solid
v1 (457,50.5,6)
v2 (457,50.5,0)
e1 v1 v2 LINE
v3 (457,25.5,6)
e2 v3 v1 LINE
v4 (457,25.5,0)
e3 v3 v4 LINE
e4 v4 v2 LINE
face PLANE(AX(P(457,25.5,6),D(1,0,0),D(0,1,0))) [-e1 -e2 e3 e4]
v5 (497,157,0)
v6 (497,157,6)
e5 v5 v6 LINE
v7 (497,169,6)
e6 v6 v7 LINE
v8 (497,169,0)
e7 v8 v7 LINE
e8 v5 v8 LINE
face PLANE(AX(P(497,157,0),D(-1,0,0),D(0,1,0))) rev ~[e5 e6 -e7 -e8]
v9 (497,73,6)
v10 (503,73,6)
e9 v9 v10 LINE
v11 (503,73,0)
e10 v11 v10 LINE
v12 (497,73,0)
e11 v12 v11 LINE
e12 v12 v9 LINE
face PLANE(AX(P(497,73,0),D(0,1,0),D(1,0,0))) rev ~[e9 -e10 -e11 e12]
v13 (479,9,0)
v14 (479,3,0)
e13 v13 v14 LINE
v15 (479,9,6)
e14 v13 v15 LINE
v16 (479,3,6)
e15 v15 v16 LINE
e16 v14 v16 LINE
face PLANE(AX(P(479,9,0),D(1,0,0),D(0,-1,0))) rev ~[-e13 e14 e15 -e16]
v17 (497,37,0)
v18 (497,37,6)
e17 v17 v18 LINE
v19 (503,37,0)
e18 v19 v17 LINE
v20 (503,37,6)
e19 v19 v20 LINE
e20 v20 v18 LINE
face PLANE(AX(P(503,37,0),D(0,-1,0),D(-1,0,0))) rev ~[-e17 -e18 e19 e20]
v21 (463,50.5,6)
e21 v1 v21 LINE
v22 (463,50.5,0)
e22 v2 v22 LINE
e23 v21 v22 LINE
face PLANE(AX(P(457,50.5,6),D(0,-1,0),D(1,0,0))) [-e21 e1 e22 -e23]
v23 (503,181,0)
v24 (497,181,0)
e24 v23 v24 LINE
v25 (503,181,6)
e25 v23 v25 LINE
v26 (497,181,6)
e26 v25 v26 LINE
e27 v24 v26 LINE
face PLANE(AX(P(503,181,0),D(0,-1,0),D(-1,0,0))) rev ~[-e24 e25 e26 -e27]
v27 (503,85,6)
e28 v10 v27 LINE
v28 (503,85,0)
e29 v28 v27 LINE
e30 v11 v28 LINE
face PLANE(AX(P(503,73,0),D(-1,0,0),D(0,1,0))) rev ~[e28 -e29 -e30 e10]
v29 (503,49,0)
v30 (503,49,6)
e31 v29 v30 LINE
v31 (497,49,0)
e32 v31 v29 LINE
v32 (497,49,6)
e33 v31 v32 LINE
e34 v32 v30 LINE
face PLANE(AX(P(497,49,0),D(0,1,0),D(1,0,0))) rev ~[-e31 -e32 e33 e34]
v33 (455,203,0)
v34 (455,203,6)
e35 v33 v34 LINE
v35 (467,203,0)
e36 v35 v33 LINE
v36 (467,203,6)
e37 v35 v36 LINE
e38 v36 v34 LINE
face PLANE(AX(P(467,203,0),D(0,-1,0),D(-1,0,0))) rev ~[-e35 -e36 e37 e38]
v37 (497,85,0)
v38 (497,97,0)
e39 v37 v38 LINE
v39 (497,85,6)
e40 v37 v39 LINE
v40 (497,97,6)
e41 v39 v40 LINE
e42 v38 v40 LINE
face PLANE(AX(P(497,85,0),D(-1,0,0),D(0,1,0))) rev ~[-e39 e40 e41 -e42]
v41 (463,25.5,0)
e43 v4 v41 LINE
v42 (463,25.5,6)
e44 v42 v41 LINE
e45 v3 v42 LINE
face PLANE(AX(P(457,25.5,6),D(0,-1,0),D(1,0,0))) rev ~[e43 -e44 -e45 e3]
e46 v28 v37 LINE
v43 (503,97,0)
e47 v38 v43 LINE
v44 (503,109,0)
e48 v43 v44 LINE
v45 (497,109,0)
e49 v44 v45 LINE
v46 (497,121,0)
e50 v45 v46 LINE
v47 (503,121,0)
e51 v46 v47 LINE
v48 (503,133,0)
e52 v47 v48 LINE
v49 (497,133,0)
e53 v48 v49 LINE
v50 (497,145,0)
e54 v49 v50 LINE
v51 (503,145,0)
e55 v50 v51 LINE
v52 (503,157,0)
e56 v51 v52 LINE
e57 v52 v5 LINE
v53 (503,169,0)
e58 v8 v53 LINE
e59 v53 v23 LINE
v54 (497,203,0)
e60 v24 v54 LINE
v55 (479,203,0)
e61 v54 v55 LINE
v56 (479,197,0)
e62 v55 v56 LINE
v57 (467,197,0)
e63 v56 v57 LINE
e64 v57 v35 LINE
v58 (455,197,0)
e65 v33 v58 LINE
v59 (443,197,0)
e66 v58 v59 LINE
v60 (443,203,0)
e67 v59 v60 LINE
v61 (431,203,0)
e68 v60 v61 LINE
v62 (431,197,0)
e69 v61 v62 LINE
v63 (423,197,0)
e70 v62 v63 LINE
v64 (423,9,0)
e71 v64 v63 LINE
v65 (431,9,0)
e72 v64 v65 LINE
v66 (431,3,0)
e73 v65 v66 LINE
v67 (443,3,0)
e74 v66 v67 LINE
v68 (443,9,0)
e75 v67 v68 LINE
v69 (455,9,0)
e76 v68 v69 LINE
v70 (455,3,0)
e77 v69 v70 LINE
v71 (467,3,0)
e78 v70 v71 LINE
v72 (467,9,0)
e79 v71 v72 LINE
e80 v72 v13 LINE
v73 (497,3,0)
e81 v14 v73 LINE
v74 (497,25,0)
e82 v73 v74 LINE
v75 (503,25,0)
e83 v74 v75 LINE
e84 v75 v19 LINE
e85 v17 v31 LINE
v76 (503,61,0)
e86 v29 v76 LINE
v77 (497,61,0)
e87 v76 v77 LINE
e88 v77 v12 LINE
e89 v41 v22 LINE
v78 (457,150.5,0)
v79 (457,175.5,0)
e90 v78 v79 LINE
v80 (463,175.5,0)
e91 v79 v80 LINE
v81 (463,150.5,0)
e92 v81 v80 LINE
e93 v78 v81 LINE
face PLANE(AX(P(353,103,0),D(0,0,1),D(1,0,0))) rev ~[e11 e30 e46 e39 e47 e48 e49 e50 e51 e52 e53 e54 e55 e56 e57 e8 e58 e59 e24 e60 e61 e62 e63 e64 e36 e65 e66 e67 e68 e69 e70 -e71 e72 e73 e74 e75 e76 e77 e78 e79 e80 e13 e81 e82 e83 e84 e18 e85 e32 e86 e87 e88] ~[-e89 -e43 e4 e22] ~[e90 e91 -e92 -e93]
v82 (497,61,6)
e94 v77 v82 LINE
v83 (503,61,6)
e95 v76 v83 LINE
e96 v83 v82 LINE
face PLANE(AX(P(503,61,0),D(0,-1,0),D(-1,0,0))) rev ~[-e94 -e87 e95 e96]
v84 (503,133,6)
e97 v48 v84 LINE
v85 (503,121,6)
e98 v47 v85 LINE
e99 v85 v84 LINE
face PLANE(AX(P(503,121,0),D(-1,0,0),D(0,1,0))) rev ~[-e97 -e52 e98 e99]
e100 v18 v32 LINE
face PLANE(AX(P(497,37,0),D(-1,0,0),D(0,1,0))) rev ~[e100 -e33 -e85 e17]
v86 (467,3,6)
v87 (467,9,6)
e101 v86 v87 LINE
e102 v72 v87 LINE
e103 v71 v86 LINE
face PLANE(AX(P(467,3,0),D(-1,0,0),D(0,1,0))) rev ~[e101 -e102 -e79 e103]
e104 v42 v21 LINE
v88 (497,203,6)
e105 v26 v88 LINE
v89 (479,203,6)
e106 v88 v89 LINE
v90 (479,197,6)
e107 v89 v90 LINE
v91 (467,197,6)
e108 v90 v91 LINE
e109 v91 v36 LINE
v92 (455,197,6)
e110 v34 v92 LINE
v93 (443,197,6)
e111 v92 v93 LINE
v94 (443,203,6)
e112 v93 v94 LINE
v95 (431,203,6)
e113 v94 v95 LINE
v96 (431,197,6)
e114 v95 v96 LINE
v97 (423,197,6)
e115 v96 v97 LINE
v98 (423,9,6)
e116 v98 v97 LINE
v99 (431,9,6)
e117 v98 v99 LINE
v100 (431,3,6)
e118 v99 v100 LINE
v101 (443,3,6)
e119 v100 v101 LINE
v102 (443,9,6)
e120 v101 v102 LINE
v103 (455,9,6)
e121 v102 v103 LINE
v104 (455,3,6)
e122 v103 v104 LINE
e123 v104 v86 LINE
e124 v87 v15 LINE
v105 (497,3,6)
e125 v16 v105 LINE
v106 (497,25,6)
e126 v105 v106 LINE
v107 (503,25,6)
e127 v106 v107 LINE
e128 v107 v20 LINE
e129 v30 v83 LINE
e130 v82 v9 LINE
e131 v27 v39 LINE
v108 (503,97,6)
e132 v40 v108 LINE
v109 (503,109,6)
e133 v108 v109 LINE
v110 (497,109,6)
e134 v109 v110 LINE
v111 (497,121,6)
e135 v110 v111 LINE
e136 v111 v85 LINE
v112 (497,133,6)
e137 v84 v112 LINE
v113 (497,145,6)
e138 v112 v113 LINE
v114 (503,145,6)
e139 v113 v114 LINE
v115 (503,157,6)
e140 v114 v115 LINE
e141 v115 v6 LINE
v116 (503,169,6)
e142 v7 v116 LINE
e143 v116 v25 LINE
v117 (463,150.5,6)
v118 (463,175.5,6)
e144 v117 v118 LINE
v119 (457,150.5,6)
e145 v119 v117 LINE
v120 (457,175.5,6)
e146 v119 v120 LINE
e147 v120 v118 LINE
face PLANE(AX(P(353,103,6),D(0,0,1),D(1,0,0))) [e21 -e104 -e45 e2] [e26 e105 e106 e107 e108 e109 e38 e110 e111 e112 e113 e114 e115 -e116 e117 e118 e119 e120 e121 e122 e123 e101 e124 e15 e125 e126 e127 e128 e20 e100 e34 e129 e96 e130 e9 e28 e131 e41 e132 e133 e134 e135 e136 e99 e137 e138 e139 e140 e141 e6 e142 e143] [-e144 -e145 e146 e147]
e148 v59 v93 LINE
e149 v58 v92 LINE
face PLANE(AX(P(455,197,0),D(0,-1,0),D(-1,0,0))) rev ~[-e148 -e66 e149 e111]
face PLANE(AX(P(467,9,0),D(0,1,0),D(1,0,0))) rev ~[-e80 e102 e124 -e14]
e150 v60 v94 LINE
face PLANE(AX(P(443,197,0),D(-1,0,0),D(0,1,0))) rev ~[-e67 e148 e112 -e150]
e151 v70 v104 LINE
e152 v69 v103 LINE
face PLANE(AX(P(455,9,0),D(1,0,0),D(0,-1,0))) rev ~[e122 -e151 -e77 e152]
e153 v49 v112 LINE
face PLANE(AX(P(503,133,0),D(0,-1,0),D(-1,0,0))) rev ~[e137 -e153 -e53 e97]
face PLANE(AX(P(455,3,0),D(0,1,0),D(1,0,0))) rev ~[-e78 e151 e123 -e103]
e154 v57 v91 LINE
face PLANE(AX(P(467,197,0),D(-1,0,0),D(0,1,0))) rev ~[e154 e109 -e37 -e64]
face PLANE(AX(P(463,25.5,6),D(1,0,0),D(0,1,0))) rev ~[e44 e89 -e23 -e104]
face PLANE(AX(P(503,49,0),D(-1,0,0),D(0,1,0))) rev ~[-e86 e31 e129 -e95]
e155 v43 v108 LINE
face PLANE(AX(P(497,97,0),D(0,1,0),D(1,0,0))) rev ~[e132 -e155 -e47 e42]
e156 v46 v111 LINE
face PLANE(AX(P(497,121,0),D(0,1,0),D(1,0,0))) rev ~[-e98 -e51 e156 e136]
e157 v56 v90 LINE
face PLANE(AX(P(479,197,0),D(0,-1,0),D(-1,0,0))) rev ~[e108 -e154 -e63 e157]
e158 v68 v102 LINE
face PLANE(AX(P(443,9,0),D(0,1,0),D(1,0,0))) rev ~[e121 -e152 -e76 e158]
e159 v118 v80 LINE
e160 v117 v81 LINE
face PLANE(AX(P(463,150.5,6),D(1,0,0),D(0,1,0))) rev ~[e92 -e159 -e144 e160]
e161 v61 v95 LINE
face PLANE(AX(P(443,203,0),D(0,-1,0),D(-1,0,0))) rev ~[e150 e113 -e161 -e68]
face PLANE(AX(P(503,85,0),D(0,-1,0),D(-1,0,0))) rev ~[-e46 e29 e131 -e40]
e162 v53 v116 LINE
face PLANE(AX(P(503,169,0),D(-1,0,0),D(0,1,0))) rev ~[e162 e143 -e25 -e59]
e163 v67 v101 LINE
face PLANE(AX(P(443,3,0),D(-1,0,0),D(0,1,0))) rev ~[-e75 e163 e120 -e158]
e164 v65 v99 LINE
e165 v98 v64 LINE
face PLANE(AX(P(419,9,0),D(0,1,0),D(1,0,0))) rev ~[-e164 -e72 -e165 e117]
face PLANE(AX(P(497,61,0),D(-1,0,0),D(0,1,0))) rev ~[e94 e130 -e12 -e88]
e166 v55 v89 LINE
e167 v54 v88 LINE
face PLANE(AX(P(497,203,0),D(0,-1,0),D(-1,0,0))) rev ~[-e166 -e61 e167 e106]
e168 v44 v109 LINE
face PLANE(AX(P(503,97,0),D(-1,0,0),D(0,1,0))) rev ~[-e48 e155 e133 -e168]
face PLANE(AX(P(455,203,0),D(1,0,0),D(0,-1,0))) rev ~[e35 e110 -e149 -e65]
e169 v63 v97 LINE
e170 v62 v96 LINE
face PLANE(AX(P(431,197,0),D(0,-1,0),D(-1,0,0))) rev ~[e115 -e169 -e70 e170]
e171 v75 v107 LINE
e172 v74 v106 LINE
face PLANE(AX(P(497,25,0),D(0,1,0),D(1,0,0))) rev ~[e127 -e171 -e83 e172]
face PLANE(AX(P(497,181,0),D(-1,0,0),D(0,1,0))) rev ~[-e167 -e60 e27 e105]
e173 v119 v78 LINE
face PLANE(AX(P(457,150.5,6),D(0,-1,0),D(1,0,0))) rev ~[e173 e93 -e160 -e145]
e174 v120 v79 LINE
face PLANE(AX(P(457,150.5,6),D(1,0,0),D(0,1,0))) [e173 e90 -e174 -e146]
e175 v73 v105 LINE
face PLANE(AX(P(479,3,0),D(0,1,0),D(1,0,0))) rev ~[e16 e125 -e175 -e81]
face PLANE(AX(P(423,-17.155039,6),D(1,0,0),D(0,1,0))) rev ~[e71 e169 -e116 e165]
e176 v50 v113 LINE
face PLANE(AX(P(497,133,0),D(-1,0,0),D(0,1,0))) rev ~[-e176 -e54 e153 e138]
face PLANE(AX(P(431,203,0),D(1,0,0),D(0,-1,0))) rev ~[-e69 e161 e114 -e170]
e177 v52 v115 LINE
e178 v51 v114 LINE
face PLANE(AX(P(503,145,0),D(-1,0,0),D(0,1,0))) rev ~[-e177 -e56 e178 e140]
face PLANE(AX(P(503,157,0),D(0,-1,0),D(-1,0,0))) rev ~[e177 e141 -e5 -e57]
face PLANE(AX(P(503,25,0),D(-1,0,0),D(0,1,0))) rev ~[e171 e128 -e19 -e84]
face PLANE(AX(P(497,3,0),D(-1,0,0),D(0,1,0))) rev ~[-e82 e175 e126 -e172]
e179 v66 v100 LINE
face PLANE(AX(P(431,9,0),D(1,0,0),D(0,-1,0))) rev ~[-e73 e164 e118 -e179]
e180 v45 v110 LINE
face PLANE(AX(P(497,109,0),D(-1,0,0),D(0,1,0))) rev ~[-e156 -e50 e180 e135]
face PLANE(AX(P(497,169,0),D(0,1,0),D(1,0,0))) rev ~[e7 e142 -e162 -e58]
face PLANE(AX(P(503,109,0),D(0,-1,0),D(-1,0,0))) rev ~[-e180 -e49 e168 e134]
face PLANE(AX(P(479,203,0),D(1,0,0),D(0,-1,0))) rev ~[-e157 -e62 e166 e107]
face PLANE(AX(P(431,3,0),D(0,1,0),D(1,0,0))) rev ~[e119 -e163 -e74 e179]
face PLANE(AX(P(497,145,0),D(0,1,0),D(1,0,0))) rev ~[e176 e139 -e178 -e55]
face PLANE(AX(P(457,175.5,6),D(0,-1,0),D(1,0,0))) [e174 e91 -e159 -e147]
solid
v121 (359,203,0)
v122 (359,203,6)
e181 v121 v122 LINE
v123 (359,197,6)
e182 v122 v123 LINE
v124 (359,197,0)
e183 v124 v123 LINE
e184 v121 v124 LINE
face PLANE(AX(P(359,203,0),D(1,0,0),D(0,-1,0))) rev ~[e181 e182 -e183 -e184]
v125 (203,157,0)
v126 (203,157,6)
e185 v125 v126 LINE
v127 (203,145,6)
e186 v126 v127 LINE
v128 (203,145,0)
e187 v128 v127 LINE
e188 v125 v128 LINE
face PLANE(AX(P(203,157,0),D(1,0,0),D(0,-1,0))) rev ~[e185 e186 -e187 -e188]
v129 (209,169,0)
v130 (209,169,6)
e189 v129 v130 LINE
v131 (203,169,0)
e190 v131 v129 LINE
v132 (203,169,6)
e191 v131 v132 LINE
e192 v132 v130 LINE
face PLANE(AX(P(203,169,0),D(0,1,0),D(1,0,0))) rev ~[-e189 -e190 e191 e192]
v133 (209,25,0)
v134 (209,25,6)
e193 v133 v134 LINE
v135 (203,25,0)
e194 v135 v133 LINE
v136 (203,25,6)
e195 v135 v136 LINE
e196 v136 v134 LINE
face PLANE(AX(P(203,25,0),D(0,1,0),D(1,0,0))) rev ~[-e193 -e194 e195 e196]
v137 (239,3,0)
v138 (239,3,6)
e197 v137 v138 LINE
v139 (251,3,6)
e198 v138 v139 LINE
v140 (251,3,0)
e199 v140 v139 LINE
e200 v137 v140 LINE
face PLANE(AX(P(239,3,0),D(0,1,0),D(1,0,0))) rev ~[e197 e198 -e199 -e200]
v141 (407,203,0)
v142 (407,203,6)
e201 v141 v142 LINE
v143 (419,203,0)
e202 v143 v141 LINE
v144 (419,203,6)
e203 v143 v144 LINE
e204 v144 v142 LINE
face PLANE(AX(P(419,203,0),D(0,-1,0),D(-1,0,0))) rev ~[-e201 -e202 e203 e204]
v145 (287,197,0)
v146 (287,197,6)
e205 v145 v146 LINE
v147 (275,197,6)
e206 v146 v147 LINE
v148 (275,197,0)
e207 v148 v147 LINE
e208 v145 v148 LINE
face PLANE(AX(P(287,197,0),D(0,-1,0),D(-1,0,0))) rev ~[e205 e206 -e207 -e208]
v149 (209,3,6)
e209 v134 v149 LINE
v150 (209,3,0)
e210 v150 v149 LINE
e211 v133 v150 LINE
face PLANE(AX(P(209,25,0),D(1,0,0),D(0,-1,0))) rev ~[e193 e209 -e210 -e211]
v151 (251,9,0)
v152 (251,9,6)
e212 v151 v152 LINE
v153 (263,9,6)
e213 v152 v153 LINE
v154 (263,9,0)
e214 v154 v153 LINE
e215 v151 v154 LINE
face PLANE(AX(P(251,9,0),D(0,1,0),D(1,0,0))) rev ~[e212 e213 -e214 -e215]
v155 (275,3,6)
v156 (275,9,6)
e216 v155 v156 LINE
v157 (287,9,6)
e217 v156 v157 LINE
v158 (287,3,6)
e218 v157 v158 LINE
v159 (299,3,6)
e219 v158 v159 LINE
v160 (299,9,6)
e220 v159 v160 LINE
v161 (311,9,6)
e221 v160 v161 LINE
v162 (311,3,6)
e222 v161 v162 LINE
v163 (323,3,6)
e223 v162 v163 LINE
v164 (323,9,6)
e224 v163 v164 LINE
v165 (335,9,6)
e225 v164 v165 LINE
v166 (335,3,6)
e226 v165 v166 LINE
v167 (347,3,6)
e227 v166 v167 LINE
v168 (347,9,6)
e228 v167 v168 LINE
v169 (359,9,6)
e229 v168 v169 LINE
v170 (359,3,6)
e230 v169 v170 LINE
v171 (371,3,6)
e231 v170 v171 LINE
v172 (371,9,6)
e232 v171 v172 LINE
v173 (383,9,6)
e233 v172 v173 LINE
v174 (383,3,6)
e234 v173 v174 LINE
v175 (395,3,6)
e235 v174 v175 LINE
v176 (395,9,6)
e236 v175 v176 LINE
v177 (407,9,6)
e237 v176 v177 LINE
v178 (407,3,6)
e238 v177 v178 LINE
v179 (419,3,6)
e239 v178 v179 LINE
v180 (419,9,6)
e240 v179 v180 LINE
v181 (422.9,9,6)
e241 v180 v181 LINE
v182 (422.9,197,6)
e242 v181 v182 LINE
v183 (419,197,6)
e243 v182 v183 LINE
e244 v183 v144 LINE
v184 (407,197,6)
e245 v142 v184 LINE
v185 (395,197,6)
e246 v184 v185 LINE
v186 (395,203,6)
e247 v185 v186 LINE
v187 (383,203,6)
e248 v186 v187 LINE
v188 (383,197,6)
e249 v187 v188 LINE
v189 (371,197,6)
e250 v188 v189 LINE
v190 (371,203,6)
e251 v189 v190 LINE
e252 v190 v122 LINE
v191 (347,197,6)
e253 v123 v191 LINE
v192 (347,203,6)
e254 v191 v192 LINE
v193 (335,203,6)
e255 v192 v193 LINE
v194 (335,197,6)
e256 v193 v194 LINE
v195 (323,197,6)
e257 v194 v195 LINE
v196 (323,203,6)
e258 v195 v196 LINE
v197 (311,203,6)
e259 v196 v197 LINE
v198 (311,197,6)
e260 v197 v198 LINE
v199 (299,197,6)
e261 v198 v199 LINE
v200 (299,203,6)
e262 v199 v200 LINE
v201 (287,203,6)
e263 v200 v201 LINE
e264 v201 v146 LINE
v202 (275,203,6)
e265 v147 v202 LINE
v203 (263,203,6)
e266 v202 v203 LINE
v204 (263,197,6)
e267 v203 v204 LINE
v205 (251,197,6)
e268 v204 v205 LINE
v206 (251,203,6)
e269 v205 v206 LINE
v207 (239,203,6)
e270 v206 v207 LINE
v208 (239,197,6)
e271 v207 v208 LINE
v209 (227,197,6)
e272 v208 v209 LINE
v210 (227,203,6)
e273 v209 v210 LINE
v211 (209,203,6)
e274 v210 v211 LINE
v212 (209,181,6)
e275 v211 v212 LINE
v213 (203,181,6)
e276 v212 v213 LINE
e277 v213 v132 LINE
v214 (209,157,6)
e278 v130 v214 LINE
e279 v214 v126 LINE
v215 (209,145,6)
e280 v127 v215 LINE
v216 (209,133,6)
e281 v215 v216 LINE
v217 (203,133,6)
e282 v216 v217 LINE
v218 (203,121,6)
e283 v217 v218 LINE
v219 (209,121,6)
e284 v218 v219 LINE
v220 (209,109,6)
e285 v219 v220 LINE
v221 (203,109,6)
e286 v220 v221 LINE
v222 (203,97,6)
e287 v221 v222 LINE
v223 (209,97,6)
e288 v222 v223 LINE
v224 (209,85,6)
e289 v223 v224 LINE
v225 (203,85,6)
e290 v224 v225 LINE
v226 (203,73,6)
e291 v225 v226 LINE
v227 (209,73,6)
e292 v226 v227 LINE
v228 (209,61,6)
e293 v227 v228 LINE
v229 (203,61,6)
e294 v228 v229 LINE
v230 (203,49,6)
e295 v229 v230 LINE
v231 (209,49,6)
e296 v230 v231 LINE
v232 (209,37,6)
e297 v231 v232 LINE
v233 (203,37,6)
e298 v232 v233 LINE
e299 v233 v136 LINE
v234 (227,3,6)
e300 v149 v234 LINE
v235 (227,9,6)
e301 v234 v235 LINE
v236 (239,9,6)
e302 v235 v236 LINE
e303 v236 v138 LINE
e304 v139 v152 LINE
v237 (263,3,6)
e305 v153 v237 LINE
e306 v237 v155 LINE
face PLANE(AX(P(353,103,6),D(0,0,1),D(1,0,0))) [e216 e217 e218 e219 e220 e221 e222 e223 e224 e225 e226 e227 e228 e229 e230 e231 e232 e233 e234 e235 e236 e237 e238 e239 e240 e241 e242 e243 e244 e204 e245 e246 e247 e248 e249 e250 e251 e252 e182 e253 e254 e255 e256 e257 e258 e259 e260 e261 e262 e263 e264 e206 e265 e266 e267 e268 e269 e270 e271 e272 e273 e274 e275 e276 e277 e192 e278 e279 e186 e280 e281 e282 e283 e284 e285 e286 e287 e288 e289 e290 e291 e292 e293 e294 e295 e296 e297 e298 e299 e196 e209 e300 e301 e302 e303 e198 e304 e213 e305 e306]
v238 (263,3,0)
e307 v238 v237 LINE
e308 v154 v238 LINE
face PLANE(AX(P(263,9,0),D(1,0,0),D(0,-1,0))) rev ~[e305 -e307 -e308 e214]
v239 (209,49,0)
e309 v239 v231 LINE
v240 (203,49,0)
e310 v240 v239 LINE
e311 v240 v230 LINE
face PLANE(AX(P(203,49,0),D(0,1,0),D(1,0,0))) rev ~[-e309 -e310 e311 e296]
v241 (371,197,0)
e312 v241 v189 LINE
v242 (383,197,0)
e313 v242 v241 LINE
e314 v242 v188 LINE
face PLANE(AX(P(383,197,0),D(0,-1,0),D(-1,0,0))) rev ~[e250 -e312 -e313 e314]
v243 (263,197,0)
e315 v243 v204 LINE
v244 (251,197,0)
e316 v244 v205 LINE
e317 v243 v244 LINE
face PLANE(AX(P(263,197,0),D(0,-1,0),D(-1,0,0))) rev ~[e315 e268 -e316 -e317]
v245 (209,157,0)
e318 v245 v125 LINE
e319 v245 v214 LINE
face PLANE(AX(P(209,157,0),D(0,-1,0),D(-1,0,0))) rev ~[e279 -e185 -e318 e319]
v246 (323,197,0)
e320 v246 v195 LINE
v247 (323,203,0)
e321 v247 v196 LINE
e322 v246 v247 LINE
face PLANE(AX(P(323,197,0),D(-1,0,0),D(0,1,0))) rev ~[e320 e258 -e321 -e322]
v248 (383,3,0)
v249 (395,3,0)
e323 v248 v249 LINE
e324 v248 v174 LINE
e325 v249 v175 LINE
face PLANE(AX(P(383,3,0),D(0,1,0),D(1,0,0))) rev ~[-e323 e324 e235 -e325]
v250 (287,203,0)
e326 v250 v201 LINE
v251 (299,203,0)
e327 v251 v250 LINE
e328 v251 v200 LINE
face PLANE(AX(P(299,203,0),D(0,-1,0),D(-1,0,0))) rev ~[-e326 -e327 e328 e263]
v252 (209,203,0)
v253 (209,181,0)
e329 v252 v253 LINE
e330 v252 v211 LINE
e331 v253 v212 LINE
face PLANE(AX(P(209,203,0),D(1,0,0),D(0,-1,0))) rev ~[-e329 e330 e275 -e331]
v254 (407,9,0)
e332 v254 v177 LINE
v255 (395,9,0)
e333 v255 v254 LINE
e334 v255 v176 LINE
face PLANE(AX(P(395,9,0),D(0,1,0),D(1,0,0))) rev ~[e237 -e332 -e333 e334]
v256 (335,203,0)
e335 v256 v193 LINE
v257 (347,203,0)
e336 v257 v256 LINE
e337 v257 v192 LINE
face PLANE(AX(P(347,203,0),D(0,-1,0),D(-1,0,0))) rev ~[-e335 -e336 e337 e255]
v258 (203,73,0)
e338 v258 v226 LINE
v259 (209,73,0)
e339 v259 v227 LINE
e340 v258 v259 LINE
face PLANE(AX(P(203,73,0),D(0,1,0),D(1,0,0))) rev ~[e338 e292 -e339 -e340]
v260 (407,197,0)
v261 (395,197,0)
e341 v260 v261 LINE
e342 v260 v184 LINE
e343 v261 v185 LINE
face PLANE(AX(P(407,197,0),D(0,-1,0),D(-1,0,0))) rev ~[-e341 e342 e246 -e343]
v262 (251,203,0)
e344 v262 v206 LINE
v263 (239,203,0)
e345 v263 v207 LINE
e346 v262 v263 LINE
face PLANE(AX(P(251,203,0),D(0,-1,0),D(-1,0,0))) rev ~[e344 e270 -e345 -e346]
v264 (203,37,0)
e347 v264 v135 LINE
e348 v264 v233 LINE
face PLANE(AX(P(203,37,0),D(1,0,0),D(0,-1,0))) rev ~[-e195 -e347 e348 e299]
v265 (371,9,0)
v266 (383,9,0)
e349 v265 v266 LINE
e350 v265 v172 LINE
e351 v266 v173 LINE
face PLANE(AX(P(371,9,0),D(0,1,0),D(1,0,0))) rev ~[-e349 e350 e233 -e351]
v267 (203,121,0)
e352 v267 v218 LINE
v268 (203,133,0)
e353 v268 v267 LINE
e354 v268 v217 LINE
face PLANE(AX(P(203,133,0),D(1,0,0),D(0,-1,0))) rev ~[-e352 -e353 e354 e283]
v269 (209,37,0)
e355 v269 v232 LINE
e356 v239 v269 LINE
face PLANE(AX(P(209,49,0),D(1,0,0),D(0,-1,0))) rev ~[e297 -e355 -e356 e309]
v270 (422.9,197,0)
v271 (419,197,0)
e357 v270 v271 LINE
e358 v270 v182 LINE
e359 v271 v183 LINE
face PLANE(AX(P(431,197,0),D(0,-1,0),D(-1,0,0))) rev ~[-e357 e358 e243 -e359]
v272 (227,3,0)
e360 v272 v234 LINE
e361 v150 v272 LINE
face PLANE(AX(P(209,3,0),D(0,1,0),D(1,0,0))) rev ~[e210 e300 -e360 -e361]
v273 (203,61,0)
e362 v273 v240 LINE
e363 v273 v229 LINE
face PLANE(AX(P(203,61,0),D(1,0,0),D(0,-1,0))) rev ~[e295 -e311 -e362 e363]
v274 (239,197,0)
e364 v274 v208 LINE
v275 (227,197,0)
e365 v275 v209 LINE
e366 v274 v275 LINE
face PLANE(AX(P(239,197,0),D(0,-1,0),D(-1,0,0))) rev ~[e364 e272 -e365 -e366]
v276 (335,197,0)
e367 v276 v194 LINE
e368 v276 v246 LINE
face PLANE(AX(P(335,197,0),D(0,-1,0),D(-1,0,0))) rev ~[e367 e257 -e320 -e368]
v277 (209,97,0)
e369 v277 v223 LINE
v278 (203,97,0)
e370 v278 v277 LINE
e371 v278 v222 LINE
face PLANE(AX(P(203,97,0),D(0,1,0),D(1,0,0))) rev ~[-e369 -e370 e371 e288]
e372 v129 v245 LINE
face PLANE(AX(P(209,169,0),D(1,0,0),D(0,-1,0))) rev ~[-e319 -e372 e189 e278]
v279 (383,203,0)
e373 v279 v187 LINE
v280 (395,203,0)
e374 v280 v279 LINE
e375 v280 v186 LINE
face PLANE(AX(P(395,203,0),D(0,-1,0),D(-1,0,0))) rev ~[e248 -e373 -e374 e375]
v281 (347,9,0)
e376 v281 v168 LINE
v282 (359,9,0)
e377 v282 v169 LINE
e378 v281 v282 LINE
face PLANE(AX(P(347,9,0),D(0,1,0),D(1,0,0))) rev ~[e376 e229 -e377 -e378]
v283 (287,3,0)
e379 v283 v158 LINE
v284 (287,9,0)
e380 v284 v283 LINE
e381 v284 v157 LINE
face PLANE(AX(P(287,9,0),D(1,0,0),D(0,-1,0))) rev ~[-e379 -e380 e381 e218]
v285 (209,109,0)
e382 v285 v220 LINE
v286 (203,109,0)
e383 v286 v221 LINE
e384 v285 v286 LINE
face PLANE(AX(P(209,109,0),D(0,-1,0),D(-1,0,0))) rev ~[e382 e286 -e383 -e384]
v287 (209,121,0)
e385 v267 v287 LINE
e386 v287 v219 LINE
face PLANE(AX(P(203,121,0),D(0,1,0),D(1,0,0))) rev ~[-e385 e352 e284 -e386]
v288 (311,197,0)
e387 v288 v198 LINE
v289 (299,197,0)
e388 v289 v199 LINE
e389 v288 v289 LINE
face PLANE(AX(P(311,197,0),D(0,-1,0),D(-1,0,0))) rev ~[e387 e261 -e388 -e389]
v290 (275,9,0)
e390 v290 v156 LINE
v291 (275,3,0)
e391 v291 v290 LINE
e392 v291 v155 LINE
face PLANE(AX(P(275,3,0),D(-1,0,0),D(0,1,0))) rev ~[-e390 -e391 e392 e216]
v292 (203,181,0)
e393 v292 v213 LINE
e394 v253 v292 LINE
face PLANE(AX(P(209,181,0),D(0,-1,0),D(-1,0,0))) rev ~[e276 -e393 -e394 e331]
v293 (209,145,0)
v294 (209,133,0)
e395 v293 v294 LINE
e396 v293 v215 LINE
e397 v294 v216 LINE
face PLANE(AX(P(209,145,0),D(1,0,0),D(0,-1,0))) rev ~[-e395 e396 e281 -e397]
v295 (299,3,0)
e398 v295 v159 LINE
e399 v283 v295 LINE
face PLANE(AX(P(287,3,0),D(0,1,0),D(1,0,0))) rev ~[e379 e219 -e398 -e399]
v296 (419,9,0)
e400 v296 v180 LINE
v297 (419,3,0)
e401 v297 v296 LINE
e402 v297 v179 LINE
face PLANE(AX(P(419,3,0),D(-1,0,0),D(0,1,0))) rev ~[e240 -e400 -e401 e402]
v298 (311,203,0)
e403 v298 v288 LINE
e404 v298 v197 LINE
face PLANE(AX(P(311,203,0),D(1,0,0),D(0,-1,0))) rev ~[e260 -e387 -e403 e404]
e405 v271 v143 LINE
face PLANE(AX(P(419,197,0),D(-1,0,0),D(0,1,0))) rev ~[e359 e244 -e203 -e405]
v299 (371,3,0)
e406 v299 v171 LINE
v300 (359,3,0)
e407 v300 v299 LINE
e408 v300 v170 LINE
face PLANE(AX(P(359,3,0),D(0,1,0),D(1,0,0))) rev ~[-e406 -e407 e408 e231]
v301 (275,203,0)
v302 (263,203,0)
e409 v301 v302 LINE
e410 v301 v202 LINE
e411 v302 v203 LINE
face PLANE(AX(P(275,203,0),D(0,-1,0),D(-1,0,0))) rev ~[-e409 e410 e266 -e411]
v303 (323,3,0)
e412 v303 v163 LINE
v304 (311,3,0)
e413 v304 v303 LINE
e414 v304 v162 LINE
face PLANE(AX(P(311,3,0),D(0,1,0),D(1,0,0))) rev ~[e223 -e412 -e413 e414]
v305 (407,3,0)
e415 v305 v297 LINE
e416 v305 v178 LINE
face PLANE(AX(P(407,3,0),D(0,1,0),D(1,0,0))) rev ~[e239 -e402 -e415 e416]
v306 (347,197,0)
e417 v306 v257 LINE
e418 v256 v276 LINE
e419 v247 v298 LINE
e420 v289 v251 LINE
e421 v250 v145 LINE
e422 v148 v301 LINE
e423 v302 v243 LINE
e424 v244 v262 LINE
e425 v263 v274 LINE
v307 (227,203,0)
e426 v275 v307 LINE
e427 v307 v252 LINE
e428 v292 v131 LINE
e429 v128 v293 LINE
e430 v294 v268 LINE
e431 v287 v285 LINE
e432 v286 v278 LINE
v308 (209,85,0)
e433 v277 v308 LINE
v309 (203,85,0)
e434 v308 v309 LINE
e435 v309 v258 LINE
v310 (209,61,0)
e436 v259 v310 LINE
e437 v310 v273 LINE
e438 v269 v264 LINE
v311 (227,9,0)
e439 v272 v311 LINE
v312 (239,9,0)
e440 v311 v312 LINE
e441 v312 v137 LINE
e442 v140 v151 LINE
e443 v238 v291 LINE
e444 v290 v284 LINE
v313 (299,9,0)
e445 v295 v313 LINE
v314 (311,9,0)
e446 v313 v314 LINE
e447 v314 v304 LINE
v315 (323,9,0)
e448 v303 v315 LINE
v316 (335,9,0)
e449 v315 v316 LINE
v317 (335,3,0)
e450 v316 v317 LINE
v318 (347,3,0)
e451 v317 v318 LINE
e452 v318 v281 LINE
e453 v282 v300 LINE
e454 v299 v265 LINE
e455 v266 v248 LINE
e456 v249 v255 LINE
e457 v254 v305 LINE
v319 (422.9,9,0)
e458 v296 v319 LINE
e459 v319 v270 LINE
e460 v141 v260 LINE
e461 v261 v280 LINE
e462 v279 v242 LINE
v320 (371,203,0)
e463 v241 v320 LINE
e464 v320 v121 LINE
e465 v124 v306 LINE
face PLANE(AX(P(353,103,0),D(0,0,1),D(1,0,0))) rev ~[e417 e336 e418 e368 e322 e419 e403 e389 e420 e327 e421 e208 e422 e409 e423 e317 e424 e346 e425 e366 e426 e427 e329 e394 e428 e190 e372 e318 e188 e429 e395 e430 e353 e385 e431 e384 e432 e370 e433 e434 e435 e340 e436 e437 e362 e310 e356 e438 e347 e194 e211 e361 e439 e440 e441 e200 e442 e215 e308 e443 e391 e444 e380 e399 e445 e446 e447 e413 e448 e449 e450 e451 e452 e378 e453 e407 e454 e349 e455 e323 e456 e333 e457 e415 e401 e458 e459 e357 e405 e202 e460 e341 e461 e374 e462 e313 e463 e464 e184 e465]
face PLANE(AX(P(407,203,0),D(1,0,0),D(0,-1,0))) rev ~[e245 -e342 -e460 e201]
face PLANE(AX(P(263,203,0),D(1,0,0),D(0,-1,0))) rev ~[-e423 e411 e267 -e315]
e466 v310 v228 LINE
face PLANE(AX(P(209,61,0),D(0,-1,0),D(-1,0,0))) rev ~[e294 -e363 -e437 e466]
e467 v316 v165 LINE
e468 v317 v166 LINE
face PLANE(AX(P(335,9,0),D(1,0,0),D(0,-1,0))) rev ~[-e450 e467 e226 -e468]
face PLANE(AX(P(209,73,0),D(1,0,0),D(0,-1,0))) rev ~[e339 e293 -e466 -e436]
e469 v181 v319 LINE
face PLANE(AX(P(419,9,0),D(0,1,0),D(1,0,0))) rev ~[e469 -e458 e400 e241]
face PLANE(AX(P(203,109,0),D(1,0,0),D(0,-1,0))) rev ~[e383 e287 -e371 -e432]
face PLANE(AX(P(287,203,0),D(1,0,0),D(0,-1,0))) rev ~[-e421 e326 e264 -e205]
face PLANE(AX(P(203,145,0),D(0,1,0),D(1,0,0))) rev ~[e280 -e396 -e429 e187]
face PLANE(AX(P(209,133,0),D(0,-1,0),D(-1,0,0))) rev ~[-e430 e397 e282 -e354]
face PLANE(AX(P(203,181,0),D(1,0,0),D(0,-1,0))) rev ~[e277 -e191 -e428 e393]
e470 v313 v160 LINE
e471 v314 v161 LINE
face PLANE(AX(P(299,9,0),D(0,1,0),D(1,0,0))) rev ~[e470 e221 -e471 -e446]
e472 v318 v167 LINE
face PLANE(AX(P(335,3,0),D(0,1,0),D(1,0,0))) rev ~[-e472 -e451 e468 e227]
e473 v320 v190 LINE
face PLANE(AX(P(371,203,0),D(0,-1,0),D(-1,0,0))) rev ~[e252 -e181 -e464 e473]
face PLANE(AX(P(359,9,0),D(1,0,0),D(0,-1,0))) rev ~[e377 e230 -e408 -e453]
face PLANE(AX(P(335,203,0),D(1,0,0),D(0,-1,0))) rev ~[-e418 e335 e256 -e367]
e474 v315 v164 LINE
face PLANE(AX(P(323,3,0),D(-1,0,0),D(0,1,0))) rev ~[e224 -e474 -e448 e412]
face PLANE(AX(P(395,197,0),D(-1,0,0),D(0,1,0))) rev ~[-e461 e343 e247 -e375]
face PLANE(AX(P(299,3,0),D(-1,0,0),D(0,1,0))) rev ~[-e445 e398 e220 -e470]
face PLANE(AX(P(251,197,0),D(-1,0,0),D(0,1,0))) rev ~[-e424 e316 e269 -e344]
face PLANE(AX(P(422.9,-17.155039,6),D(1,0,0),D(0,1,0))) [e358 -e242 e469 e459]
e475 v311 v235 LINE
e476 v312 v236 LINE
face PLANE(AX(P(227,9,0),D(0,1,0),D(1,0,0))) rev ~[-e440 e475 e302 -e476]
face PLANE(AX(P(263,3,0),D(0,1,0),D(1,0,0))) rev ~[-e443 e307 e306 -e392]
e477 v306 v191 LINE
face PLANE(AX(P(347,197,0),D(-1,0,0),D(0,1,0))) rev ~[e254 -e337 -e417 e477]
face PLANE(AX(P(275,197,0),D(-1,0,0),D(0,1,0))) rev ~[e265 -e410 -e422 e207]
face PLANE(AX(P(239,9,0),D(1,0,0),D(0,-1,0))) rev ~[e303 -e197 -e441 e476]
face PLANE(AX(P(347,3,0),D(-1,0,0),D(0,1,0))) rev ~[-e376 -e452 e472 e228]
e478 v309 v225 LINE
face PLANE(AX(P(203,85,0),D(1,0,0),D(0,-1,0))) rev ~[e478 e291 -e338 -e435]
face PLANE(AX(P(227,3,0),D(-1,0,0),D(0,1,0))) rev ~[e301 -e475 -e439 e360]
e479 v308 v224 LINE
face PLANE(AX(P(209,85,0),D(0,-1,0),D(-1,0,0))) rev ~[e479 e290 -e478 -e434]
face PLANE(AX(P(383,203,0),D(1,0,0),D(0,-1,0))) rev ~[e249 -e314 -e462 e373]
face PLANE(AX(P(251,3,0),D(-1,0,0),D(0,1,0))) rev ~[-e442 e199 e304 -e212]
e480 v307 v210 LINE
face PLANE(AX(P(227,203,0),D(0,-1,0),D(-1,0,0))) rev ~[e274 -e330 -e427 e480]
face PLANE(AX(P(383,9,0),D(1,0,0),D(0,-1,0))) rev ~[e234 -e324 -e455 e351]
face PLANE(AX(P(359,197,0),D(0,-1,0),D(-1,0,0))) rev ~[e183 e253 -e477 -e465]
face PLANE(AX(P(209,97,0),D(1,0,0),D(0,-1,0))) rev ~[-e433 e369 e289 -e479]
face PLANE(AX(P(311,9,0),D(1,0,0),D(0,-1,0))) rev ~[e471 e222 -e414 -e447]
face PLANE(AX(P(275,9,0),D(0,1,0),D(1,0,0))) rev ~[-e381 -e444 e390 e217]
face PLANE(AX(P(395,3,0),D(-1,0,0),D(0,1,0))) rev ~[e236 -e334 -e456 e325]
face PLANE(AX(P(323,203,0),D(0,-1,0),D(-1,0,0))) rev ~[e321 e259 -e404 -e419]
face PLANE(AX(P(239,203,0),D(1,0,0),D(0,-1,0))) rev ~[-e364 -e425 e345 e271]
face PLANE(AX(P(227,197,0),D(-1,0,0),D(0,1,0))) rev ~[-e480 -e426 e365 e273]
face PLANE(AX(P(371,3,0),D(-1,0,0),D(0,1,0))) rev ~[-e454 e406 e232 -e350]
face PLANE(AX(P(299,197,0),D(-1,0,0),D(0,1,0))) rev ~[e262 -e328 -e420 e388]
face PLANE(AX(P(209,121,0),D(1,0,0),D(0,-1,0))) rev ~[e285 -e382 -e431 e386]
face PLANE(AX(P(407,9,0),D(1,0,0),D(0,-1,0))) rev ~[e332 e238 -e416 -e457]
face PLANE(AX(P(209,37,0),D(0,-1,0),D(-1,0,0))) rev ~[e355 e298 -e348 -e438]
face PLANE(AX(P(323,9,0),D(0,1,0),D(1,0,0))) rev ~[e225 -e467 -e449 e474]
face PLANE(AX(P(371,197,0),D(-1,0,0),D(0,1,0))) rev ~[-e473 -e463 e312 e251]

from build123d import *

# Parameters (mm, degrees)
BOSS_EXTRUDE1_DEPTH = 6
SKETCH2_W           = 6
SKETCH2_H           = 25
SKETCH2_W_2         = 0.1
SKETCH2_H_2         = 235.31007752
CUT_EXTRUDE1_DEPTH  = 6


with BuildPart() as part:
    # Model → Boss-Extrude1 (new body)
    with BuildSketch(Plane.XY):
        Polygon((209, 203), (209, 181), (203, 181), (203, 169), (209, 169), (209, 157), (203, 157), (203, 145), (209, 145), (209, 133), (203, 133), (203, 121), (209, 121), (209, 109), (203, 109), (203, 97), (209, 97), (209, 85), (203, 85), (203, 73), (209, 73), (209, 61), (203, 61), (203, 49), (209, 49), (209, 37), (203, 37), (203, 25), (209, 25), (209, 13), (209, 3), (227, 3), (227, 9), (239, 9), (239, 3), (251, 3), (251, 9), (263, 9), (263, 3), (275, 3), (275, 9), (287, 9), (287, 3), (299, 3), (299, 9), (311, 9), (311, 3), (323, 3), (323, 9), (335, 9), (335, 3), (347, 3), (347, 9), (359, 9), (359, 3), (371, 3), (371, 9), (383, 9), (383, 3), (395, 3), (395, 9), (407, 9), (407, 3), (419, 3), (419, 9), (431, 9), (431, 3), (443, 3), (443, 9), (455, 9), (455, 3), (467, 3), (467, 9), (479, 9), (479, 3), (491, 3), (497, 3), (497, 25), (503, 25), (503, 37), (497, 37), (497, 49), (503, 49), (503, 61), (497, 61), (497, 73), (503, 73), (503, 85), (497, 85), (497, 97), (503, 97), (503, 109), (497, 109), (497, 121), (503, 121), (503, 133), (497, 133), (497, 145), (503, 145), (503, 157), (497, 157), (497, 169), (503, 169), (503, 181), (497, 181), (497, 193), (497, 203), (479, 203), (479, 197), (467, 197), (467, 203), (455, 203), (455, 197), (443, 197), (443, 203), (431, 203), (431, 197), (419, 197), (419, 203), (407, 203), (407, 197), (395, 197), (395, 203), (383, 203), (383, 197), (371, 197), (371, 203), (359, 203), (359, 197), (347, 197), (347, 203), (335, 203), (335, 197), (323, 197), (323, 203), (311, 203), (311, 197), (299, 197), (299, 203), (287, 203), (287, 197), (275, 197), (275, 203), (263, 203), (263, 197), (251, 197), (251, 203), (239, 203), (239, 197), (227, 197), (227, 203), (215, 203), align=None)
    extrude(amount=BOSS_EXTRUDE1_DEPTH)

    # Sketch2 → Cut-Extrude1 (cut)
    with BuildSketch(Plane.XY.offset(6)):
        with Locations((460, 38)):
            Rectangle(SKETCH2_W, SKETCH2_H)
        with Locations((422.95, 100.5)):
            Rectangle(SKETCH2_W_2, SKETCH2_H_2)
        with Locations((460, 163)):
            Rectangle(SKETCH2_W, SKETCH2_H)
    extrude(amount=-CUT_EXTRUDE1_DEPTH, mode=Mode.SUBTRACT)


with BuildPart() as cut_extrude1_piece_1:
    # of the separate pieces the step leaves, piece 1, a body of its own (cut_extrude1_pieces)
    add(part.part.solids().sort_by_distance((209, 203, 0))[0])


with BuildPart() as cut_extrude1_piece_2:
    # of the separate pieces the step leaves, piece 2, a body of its own (cut_extrude1_pieces)
    add(part.part.solids().sort_by_distance((431, 197, 0))[0])


solid = Compound([cut_extrude1_piece_1.part, cut_extrude1_piece_2.part])
